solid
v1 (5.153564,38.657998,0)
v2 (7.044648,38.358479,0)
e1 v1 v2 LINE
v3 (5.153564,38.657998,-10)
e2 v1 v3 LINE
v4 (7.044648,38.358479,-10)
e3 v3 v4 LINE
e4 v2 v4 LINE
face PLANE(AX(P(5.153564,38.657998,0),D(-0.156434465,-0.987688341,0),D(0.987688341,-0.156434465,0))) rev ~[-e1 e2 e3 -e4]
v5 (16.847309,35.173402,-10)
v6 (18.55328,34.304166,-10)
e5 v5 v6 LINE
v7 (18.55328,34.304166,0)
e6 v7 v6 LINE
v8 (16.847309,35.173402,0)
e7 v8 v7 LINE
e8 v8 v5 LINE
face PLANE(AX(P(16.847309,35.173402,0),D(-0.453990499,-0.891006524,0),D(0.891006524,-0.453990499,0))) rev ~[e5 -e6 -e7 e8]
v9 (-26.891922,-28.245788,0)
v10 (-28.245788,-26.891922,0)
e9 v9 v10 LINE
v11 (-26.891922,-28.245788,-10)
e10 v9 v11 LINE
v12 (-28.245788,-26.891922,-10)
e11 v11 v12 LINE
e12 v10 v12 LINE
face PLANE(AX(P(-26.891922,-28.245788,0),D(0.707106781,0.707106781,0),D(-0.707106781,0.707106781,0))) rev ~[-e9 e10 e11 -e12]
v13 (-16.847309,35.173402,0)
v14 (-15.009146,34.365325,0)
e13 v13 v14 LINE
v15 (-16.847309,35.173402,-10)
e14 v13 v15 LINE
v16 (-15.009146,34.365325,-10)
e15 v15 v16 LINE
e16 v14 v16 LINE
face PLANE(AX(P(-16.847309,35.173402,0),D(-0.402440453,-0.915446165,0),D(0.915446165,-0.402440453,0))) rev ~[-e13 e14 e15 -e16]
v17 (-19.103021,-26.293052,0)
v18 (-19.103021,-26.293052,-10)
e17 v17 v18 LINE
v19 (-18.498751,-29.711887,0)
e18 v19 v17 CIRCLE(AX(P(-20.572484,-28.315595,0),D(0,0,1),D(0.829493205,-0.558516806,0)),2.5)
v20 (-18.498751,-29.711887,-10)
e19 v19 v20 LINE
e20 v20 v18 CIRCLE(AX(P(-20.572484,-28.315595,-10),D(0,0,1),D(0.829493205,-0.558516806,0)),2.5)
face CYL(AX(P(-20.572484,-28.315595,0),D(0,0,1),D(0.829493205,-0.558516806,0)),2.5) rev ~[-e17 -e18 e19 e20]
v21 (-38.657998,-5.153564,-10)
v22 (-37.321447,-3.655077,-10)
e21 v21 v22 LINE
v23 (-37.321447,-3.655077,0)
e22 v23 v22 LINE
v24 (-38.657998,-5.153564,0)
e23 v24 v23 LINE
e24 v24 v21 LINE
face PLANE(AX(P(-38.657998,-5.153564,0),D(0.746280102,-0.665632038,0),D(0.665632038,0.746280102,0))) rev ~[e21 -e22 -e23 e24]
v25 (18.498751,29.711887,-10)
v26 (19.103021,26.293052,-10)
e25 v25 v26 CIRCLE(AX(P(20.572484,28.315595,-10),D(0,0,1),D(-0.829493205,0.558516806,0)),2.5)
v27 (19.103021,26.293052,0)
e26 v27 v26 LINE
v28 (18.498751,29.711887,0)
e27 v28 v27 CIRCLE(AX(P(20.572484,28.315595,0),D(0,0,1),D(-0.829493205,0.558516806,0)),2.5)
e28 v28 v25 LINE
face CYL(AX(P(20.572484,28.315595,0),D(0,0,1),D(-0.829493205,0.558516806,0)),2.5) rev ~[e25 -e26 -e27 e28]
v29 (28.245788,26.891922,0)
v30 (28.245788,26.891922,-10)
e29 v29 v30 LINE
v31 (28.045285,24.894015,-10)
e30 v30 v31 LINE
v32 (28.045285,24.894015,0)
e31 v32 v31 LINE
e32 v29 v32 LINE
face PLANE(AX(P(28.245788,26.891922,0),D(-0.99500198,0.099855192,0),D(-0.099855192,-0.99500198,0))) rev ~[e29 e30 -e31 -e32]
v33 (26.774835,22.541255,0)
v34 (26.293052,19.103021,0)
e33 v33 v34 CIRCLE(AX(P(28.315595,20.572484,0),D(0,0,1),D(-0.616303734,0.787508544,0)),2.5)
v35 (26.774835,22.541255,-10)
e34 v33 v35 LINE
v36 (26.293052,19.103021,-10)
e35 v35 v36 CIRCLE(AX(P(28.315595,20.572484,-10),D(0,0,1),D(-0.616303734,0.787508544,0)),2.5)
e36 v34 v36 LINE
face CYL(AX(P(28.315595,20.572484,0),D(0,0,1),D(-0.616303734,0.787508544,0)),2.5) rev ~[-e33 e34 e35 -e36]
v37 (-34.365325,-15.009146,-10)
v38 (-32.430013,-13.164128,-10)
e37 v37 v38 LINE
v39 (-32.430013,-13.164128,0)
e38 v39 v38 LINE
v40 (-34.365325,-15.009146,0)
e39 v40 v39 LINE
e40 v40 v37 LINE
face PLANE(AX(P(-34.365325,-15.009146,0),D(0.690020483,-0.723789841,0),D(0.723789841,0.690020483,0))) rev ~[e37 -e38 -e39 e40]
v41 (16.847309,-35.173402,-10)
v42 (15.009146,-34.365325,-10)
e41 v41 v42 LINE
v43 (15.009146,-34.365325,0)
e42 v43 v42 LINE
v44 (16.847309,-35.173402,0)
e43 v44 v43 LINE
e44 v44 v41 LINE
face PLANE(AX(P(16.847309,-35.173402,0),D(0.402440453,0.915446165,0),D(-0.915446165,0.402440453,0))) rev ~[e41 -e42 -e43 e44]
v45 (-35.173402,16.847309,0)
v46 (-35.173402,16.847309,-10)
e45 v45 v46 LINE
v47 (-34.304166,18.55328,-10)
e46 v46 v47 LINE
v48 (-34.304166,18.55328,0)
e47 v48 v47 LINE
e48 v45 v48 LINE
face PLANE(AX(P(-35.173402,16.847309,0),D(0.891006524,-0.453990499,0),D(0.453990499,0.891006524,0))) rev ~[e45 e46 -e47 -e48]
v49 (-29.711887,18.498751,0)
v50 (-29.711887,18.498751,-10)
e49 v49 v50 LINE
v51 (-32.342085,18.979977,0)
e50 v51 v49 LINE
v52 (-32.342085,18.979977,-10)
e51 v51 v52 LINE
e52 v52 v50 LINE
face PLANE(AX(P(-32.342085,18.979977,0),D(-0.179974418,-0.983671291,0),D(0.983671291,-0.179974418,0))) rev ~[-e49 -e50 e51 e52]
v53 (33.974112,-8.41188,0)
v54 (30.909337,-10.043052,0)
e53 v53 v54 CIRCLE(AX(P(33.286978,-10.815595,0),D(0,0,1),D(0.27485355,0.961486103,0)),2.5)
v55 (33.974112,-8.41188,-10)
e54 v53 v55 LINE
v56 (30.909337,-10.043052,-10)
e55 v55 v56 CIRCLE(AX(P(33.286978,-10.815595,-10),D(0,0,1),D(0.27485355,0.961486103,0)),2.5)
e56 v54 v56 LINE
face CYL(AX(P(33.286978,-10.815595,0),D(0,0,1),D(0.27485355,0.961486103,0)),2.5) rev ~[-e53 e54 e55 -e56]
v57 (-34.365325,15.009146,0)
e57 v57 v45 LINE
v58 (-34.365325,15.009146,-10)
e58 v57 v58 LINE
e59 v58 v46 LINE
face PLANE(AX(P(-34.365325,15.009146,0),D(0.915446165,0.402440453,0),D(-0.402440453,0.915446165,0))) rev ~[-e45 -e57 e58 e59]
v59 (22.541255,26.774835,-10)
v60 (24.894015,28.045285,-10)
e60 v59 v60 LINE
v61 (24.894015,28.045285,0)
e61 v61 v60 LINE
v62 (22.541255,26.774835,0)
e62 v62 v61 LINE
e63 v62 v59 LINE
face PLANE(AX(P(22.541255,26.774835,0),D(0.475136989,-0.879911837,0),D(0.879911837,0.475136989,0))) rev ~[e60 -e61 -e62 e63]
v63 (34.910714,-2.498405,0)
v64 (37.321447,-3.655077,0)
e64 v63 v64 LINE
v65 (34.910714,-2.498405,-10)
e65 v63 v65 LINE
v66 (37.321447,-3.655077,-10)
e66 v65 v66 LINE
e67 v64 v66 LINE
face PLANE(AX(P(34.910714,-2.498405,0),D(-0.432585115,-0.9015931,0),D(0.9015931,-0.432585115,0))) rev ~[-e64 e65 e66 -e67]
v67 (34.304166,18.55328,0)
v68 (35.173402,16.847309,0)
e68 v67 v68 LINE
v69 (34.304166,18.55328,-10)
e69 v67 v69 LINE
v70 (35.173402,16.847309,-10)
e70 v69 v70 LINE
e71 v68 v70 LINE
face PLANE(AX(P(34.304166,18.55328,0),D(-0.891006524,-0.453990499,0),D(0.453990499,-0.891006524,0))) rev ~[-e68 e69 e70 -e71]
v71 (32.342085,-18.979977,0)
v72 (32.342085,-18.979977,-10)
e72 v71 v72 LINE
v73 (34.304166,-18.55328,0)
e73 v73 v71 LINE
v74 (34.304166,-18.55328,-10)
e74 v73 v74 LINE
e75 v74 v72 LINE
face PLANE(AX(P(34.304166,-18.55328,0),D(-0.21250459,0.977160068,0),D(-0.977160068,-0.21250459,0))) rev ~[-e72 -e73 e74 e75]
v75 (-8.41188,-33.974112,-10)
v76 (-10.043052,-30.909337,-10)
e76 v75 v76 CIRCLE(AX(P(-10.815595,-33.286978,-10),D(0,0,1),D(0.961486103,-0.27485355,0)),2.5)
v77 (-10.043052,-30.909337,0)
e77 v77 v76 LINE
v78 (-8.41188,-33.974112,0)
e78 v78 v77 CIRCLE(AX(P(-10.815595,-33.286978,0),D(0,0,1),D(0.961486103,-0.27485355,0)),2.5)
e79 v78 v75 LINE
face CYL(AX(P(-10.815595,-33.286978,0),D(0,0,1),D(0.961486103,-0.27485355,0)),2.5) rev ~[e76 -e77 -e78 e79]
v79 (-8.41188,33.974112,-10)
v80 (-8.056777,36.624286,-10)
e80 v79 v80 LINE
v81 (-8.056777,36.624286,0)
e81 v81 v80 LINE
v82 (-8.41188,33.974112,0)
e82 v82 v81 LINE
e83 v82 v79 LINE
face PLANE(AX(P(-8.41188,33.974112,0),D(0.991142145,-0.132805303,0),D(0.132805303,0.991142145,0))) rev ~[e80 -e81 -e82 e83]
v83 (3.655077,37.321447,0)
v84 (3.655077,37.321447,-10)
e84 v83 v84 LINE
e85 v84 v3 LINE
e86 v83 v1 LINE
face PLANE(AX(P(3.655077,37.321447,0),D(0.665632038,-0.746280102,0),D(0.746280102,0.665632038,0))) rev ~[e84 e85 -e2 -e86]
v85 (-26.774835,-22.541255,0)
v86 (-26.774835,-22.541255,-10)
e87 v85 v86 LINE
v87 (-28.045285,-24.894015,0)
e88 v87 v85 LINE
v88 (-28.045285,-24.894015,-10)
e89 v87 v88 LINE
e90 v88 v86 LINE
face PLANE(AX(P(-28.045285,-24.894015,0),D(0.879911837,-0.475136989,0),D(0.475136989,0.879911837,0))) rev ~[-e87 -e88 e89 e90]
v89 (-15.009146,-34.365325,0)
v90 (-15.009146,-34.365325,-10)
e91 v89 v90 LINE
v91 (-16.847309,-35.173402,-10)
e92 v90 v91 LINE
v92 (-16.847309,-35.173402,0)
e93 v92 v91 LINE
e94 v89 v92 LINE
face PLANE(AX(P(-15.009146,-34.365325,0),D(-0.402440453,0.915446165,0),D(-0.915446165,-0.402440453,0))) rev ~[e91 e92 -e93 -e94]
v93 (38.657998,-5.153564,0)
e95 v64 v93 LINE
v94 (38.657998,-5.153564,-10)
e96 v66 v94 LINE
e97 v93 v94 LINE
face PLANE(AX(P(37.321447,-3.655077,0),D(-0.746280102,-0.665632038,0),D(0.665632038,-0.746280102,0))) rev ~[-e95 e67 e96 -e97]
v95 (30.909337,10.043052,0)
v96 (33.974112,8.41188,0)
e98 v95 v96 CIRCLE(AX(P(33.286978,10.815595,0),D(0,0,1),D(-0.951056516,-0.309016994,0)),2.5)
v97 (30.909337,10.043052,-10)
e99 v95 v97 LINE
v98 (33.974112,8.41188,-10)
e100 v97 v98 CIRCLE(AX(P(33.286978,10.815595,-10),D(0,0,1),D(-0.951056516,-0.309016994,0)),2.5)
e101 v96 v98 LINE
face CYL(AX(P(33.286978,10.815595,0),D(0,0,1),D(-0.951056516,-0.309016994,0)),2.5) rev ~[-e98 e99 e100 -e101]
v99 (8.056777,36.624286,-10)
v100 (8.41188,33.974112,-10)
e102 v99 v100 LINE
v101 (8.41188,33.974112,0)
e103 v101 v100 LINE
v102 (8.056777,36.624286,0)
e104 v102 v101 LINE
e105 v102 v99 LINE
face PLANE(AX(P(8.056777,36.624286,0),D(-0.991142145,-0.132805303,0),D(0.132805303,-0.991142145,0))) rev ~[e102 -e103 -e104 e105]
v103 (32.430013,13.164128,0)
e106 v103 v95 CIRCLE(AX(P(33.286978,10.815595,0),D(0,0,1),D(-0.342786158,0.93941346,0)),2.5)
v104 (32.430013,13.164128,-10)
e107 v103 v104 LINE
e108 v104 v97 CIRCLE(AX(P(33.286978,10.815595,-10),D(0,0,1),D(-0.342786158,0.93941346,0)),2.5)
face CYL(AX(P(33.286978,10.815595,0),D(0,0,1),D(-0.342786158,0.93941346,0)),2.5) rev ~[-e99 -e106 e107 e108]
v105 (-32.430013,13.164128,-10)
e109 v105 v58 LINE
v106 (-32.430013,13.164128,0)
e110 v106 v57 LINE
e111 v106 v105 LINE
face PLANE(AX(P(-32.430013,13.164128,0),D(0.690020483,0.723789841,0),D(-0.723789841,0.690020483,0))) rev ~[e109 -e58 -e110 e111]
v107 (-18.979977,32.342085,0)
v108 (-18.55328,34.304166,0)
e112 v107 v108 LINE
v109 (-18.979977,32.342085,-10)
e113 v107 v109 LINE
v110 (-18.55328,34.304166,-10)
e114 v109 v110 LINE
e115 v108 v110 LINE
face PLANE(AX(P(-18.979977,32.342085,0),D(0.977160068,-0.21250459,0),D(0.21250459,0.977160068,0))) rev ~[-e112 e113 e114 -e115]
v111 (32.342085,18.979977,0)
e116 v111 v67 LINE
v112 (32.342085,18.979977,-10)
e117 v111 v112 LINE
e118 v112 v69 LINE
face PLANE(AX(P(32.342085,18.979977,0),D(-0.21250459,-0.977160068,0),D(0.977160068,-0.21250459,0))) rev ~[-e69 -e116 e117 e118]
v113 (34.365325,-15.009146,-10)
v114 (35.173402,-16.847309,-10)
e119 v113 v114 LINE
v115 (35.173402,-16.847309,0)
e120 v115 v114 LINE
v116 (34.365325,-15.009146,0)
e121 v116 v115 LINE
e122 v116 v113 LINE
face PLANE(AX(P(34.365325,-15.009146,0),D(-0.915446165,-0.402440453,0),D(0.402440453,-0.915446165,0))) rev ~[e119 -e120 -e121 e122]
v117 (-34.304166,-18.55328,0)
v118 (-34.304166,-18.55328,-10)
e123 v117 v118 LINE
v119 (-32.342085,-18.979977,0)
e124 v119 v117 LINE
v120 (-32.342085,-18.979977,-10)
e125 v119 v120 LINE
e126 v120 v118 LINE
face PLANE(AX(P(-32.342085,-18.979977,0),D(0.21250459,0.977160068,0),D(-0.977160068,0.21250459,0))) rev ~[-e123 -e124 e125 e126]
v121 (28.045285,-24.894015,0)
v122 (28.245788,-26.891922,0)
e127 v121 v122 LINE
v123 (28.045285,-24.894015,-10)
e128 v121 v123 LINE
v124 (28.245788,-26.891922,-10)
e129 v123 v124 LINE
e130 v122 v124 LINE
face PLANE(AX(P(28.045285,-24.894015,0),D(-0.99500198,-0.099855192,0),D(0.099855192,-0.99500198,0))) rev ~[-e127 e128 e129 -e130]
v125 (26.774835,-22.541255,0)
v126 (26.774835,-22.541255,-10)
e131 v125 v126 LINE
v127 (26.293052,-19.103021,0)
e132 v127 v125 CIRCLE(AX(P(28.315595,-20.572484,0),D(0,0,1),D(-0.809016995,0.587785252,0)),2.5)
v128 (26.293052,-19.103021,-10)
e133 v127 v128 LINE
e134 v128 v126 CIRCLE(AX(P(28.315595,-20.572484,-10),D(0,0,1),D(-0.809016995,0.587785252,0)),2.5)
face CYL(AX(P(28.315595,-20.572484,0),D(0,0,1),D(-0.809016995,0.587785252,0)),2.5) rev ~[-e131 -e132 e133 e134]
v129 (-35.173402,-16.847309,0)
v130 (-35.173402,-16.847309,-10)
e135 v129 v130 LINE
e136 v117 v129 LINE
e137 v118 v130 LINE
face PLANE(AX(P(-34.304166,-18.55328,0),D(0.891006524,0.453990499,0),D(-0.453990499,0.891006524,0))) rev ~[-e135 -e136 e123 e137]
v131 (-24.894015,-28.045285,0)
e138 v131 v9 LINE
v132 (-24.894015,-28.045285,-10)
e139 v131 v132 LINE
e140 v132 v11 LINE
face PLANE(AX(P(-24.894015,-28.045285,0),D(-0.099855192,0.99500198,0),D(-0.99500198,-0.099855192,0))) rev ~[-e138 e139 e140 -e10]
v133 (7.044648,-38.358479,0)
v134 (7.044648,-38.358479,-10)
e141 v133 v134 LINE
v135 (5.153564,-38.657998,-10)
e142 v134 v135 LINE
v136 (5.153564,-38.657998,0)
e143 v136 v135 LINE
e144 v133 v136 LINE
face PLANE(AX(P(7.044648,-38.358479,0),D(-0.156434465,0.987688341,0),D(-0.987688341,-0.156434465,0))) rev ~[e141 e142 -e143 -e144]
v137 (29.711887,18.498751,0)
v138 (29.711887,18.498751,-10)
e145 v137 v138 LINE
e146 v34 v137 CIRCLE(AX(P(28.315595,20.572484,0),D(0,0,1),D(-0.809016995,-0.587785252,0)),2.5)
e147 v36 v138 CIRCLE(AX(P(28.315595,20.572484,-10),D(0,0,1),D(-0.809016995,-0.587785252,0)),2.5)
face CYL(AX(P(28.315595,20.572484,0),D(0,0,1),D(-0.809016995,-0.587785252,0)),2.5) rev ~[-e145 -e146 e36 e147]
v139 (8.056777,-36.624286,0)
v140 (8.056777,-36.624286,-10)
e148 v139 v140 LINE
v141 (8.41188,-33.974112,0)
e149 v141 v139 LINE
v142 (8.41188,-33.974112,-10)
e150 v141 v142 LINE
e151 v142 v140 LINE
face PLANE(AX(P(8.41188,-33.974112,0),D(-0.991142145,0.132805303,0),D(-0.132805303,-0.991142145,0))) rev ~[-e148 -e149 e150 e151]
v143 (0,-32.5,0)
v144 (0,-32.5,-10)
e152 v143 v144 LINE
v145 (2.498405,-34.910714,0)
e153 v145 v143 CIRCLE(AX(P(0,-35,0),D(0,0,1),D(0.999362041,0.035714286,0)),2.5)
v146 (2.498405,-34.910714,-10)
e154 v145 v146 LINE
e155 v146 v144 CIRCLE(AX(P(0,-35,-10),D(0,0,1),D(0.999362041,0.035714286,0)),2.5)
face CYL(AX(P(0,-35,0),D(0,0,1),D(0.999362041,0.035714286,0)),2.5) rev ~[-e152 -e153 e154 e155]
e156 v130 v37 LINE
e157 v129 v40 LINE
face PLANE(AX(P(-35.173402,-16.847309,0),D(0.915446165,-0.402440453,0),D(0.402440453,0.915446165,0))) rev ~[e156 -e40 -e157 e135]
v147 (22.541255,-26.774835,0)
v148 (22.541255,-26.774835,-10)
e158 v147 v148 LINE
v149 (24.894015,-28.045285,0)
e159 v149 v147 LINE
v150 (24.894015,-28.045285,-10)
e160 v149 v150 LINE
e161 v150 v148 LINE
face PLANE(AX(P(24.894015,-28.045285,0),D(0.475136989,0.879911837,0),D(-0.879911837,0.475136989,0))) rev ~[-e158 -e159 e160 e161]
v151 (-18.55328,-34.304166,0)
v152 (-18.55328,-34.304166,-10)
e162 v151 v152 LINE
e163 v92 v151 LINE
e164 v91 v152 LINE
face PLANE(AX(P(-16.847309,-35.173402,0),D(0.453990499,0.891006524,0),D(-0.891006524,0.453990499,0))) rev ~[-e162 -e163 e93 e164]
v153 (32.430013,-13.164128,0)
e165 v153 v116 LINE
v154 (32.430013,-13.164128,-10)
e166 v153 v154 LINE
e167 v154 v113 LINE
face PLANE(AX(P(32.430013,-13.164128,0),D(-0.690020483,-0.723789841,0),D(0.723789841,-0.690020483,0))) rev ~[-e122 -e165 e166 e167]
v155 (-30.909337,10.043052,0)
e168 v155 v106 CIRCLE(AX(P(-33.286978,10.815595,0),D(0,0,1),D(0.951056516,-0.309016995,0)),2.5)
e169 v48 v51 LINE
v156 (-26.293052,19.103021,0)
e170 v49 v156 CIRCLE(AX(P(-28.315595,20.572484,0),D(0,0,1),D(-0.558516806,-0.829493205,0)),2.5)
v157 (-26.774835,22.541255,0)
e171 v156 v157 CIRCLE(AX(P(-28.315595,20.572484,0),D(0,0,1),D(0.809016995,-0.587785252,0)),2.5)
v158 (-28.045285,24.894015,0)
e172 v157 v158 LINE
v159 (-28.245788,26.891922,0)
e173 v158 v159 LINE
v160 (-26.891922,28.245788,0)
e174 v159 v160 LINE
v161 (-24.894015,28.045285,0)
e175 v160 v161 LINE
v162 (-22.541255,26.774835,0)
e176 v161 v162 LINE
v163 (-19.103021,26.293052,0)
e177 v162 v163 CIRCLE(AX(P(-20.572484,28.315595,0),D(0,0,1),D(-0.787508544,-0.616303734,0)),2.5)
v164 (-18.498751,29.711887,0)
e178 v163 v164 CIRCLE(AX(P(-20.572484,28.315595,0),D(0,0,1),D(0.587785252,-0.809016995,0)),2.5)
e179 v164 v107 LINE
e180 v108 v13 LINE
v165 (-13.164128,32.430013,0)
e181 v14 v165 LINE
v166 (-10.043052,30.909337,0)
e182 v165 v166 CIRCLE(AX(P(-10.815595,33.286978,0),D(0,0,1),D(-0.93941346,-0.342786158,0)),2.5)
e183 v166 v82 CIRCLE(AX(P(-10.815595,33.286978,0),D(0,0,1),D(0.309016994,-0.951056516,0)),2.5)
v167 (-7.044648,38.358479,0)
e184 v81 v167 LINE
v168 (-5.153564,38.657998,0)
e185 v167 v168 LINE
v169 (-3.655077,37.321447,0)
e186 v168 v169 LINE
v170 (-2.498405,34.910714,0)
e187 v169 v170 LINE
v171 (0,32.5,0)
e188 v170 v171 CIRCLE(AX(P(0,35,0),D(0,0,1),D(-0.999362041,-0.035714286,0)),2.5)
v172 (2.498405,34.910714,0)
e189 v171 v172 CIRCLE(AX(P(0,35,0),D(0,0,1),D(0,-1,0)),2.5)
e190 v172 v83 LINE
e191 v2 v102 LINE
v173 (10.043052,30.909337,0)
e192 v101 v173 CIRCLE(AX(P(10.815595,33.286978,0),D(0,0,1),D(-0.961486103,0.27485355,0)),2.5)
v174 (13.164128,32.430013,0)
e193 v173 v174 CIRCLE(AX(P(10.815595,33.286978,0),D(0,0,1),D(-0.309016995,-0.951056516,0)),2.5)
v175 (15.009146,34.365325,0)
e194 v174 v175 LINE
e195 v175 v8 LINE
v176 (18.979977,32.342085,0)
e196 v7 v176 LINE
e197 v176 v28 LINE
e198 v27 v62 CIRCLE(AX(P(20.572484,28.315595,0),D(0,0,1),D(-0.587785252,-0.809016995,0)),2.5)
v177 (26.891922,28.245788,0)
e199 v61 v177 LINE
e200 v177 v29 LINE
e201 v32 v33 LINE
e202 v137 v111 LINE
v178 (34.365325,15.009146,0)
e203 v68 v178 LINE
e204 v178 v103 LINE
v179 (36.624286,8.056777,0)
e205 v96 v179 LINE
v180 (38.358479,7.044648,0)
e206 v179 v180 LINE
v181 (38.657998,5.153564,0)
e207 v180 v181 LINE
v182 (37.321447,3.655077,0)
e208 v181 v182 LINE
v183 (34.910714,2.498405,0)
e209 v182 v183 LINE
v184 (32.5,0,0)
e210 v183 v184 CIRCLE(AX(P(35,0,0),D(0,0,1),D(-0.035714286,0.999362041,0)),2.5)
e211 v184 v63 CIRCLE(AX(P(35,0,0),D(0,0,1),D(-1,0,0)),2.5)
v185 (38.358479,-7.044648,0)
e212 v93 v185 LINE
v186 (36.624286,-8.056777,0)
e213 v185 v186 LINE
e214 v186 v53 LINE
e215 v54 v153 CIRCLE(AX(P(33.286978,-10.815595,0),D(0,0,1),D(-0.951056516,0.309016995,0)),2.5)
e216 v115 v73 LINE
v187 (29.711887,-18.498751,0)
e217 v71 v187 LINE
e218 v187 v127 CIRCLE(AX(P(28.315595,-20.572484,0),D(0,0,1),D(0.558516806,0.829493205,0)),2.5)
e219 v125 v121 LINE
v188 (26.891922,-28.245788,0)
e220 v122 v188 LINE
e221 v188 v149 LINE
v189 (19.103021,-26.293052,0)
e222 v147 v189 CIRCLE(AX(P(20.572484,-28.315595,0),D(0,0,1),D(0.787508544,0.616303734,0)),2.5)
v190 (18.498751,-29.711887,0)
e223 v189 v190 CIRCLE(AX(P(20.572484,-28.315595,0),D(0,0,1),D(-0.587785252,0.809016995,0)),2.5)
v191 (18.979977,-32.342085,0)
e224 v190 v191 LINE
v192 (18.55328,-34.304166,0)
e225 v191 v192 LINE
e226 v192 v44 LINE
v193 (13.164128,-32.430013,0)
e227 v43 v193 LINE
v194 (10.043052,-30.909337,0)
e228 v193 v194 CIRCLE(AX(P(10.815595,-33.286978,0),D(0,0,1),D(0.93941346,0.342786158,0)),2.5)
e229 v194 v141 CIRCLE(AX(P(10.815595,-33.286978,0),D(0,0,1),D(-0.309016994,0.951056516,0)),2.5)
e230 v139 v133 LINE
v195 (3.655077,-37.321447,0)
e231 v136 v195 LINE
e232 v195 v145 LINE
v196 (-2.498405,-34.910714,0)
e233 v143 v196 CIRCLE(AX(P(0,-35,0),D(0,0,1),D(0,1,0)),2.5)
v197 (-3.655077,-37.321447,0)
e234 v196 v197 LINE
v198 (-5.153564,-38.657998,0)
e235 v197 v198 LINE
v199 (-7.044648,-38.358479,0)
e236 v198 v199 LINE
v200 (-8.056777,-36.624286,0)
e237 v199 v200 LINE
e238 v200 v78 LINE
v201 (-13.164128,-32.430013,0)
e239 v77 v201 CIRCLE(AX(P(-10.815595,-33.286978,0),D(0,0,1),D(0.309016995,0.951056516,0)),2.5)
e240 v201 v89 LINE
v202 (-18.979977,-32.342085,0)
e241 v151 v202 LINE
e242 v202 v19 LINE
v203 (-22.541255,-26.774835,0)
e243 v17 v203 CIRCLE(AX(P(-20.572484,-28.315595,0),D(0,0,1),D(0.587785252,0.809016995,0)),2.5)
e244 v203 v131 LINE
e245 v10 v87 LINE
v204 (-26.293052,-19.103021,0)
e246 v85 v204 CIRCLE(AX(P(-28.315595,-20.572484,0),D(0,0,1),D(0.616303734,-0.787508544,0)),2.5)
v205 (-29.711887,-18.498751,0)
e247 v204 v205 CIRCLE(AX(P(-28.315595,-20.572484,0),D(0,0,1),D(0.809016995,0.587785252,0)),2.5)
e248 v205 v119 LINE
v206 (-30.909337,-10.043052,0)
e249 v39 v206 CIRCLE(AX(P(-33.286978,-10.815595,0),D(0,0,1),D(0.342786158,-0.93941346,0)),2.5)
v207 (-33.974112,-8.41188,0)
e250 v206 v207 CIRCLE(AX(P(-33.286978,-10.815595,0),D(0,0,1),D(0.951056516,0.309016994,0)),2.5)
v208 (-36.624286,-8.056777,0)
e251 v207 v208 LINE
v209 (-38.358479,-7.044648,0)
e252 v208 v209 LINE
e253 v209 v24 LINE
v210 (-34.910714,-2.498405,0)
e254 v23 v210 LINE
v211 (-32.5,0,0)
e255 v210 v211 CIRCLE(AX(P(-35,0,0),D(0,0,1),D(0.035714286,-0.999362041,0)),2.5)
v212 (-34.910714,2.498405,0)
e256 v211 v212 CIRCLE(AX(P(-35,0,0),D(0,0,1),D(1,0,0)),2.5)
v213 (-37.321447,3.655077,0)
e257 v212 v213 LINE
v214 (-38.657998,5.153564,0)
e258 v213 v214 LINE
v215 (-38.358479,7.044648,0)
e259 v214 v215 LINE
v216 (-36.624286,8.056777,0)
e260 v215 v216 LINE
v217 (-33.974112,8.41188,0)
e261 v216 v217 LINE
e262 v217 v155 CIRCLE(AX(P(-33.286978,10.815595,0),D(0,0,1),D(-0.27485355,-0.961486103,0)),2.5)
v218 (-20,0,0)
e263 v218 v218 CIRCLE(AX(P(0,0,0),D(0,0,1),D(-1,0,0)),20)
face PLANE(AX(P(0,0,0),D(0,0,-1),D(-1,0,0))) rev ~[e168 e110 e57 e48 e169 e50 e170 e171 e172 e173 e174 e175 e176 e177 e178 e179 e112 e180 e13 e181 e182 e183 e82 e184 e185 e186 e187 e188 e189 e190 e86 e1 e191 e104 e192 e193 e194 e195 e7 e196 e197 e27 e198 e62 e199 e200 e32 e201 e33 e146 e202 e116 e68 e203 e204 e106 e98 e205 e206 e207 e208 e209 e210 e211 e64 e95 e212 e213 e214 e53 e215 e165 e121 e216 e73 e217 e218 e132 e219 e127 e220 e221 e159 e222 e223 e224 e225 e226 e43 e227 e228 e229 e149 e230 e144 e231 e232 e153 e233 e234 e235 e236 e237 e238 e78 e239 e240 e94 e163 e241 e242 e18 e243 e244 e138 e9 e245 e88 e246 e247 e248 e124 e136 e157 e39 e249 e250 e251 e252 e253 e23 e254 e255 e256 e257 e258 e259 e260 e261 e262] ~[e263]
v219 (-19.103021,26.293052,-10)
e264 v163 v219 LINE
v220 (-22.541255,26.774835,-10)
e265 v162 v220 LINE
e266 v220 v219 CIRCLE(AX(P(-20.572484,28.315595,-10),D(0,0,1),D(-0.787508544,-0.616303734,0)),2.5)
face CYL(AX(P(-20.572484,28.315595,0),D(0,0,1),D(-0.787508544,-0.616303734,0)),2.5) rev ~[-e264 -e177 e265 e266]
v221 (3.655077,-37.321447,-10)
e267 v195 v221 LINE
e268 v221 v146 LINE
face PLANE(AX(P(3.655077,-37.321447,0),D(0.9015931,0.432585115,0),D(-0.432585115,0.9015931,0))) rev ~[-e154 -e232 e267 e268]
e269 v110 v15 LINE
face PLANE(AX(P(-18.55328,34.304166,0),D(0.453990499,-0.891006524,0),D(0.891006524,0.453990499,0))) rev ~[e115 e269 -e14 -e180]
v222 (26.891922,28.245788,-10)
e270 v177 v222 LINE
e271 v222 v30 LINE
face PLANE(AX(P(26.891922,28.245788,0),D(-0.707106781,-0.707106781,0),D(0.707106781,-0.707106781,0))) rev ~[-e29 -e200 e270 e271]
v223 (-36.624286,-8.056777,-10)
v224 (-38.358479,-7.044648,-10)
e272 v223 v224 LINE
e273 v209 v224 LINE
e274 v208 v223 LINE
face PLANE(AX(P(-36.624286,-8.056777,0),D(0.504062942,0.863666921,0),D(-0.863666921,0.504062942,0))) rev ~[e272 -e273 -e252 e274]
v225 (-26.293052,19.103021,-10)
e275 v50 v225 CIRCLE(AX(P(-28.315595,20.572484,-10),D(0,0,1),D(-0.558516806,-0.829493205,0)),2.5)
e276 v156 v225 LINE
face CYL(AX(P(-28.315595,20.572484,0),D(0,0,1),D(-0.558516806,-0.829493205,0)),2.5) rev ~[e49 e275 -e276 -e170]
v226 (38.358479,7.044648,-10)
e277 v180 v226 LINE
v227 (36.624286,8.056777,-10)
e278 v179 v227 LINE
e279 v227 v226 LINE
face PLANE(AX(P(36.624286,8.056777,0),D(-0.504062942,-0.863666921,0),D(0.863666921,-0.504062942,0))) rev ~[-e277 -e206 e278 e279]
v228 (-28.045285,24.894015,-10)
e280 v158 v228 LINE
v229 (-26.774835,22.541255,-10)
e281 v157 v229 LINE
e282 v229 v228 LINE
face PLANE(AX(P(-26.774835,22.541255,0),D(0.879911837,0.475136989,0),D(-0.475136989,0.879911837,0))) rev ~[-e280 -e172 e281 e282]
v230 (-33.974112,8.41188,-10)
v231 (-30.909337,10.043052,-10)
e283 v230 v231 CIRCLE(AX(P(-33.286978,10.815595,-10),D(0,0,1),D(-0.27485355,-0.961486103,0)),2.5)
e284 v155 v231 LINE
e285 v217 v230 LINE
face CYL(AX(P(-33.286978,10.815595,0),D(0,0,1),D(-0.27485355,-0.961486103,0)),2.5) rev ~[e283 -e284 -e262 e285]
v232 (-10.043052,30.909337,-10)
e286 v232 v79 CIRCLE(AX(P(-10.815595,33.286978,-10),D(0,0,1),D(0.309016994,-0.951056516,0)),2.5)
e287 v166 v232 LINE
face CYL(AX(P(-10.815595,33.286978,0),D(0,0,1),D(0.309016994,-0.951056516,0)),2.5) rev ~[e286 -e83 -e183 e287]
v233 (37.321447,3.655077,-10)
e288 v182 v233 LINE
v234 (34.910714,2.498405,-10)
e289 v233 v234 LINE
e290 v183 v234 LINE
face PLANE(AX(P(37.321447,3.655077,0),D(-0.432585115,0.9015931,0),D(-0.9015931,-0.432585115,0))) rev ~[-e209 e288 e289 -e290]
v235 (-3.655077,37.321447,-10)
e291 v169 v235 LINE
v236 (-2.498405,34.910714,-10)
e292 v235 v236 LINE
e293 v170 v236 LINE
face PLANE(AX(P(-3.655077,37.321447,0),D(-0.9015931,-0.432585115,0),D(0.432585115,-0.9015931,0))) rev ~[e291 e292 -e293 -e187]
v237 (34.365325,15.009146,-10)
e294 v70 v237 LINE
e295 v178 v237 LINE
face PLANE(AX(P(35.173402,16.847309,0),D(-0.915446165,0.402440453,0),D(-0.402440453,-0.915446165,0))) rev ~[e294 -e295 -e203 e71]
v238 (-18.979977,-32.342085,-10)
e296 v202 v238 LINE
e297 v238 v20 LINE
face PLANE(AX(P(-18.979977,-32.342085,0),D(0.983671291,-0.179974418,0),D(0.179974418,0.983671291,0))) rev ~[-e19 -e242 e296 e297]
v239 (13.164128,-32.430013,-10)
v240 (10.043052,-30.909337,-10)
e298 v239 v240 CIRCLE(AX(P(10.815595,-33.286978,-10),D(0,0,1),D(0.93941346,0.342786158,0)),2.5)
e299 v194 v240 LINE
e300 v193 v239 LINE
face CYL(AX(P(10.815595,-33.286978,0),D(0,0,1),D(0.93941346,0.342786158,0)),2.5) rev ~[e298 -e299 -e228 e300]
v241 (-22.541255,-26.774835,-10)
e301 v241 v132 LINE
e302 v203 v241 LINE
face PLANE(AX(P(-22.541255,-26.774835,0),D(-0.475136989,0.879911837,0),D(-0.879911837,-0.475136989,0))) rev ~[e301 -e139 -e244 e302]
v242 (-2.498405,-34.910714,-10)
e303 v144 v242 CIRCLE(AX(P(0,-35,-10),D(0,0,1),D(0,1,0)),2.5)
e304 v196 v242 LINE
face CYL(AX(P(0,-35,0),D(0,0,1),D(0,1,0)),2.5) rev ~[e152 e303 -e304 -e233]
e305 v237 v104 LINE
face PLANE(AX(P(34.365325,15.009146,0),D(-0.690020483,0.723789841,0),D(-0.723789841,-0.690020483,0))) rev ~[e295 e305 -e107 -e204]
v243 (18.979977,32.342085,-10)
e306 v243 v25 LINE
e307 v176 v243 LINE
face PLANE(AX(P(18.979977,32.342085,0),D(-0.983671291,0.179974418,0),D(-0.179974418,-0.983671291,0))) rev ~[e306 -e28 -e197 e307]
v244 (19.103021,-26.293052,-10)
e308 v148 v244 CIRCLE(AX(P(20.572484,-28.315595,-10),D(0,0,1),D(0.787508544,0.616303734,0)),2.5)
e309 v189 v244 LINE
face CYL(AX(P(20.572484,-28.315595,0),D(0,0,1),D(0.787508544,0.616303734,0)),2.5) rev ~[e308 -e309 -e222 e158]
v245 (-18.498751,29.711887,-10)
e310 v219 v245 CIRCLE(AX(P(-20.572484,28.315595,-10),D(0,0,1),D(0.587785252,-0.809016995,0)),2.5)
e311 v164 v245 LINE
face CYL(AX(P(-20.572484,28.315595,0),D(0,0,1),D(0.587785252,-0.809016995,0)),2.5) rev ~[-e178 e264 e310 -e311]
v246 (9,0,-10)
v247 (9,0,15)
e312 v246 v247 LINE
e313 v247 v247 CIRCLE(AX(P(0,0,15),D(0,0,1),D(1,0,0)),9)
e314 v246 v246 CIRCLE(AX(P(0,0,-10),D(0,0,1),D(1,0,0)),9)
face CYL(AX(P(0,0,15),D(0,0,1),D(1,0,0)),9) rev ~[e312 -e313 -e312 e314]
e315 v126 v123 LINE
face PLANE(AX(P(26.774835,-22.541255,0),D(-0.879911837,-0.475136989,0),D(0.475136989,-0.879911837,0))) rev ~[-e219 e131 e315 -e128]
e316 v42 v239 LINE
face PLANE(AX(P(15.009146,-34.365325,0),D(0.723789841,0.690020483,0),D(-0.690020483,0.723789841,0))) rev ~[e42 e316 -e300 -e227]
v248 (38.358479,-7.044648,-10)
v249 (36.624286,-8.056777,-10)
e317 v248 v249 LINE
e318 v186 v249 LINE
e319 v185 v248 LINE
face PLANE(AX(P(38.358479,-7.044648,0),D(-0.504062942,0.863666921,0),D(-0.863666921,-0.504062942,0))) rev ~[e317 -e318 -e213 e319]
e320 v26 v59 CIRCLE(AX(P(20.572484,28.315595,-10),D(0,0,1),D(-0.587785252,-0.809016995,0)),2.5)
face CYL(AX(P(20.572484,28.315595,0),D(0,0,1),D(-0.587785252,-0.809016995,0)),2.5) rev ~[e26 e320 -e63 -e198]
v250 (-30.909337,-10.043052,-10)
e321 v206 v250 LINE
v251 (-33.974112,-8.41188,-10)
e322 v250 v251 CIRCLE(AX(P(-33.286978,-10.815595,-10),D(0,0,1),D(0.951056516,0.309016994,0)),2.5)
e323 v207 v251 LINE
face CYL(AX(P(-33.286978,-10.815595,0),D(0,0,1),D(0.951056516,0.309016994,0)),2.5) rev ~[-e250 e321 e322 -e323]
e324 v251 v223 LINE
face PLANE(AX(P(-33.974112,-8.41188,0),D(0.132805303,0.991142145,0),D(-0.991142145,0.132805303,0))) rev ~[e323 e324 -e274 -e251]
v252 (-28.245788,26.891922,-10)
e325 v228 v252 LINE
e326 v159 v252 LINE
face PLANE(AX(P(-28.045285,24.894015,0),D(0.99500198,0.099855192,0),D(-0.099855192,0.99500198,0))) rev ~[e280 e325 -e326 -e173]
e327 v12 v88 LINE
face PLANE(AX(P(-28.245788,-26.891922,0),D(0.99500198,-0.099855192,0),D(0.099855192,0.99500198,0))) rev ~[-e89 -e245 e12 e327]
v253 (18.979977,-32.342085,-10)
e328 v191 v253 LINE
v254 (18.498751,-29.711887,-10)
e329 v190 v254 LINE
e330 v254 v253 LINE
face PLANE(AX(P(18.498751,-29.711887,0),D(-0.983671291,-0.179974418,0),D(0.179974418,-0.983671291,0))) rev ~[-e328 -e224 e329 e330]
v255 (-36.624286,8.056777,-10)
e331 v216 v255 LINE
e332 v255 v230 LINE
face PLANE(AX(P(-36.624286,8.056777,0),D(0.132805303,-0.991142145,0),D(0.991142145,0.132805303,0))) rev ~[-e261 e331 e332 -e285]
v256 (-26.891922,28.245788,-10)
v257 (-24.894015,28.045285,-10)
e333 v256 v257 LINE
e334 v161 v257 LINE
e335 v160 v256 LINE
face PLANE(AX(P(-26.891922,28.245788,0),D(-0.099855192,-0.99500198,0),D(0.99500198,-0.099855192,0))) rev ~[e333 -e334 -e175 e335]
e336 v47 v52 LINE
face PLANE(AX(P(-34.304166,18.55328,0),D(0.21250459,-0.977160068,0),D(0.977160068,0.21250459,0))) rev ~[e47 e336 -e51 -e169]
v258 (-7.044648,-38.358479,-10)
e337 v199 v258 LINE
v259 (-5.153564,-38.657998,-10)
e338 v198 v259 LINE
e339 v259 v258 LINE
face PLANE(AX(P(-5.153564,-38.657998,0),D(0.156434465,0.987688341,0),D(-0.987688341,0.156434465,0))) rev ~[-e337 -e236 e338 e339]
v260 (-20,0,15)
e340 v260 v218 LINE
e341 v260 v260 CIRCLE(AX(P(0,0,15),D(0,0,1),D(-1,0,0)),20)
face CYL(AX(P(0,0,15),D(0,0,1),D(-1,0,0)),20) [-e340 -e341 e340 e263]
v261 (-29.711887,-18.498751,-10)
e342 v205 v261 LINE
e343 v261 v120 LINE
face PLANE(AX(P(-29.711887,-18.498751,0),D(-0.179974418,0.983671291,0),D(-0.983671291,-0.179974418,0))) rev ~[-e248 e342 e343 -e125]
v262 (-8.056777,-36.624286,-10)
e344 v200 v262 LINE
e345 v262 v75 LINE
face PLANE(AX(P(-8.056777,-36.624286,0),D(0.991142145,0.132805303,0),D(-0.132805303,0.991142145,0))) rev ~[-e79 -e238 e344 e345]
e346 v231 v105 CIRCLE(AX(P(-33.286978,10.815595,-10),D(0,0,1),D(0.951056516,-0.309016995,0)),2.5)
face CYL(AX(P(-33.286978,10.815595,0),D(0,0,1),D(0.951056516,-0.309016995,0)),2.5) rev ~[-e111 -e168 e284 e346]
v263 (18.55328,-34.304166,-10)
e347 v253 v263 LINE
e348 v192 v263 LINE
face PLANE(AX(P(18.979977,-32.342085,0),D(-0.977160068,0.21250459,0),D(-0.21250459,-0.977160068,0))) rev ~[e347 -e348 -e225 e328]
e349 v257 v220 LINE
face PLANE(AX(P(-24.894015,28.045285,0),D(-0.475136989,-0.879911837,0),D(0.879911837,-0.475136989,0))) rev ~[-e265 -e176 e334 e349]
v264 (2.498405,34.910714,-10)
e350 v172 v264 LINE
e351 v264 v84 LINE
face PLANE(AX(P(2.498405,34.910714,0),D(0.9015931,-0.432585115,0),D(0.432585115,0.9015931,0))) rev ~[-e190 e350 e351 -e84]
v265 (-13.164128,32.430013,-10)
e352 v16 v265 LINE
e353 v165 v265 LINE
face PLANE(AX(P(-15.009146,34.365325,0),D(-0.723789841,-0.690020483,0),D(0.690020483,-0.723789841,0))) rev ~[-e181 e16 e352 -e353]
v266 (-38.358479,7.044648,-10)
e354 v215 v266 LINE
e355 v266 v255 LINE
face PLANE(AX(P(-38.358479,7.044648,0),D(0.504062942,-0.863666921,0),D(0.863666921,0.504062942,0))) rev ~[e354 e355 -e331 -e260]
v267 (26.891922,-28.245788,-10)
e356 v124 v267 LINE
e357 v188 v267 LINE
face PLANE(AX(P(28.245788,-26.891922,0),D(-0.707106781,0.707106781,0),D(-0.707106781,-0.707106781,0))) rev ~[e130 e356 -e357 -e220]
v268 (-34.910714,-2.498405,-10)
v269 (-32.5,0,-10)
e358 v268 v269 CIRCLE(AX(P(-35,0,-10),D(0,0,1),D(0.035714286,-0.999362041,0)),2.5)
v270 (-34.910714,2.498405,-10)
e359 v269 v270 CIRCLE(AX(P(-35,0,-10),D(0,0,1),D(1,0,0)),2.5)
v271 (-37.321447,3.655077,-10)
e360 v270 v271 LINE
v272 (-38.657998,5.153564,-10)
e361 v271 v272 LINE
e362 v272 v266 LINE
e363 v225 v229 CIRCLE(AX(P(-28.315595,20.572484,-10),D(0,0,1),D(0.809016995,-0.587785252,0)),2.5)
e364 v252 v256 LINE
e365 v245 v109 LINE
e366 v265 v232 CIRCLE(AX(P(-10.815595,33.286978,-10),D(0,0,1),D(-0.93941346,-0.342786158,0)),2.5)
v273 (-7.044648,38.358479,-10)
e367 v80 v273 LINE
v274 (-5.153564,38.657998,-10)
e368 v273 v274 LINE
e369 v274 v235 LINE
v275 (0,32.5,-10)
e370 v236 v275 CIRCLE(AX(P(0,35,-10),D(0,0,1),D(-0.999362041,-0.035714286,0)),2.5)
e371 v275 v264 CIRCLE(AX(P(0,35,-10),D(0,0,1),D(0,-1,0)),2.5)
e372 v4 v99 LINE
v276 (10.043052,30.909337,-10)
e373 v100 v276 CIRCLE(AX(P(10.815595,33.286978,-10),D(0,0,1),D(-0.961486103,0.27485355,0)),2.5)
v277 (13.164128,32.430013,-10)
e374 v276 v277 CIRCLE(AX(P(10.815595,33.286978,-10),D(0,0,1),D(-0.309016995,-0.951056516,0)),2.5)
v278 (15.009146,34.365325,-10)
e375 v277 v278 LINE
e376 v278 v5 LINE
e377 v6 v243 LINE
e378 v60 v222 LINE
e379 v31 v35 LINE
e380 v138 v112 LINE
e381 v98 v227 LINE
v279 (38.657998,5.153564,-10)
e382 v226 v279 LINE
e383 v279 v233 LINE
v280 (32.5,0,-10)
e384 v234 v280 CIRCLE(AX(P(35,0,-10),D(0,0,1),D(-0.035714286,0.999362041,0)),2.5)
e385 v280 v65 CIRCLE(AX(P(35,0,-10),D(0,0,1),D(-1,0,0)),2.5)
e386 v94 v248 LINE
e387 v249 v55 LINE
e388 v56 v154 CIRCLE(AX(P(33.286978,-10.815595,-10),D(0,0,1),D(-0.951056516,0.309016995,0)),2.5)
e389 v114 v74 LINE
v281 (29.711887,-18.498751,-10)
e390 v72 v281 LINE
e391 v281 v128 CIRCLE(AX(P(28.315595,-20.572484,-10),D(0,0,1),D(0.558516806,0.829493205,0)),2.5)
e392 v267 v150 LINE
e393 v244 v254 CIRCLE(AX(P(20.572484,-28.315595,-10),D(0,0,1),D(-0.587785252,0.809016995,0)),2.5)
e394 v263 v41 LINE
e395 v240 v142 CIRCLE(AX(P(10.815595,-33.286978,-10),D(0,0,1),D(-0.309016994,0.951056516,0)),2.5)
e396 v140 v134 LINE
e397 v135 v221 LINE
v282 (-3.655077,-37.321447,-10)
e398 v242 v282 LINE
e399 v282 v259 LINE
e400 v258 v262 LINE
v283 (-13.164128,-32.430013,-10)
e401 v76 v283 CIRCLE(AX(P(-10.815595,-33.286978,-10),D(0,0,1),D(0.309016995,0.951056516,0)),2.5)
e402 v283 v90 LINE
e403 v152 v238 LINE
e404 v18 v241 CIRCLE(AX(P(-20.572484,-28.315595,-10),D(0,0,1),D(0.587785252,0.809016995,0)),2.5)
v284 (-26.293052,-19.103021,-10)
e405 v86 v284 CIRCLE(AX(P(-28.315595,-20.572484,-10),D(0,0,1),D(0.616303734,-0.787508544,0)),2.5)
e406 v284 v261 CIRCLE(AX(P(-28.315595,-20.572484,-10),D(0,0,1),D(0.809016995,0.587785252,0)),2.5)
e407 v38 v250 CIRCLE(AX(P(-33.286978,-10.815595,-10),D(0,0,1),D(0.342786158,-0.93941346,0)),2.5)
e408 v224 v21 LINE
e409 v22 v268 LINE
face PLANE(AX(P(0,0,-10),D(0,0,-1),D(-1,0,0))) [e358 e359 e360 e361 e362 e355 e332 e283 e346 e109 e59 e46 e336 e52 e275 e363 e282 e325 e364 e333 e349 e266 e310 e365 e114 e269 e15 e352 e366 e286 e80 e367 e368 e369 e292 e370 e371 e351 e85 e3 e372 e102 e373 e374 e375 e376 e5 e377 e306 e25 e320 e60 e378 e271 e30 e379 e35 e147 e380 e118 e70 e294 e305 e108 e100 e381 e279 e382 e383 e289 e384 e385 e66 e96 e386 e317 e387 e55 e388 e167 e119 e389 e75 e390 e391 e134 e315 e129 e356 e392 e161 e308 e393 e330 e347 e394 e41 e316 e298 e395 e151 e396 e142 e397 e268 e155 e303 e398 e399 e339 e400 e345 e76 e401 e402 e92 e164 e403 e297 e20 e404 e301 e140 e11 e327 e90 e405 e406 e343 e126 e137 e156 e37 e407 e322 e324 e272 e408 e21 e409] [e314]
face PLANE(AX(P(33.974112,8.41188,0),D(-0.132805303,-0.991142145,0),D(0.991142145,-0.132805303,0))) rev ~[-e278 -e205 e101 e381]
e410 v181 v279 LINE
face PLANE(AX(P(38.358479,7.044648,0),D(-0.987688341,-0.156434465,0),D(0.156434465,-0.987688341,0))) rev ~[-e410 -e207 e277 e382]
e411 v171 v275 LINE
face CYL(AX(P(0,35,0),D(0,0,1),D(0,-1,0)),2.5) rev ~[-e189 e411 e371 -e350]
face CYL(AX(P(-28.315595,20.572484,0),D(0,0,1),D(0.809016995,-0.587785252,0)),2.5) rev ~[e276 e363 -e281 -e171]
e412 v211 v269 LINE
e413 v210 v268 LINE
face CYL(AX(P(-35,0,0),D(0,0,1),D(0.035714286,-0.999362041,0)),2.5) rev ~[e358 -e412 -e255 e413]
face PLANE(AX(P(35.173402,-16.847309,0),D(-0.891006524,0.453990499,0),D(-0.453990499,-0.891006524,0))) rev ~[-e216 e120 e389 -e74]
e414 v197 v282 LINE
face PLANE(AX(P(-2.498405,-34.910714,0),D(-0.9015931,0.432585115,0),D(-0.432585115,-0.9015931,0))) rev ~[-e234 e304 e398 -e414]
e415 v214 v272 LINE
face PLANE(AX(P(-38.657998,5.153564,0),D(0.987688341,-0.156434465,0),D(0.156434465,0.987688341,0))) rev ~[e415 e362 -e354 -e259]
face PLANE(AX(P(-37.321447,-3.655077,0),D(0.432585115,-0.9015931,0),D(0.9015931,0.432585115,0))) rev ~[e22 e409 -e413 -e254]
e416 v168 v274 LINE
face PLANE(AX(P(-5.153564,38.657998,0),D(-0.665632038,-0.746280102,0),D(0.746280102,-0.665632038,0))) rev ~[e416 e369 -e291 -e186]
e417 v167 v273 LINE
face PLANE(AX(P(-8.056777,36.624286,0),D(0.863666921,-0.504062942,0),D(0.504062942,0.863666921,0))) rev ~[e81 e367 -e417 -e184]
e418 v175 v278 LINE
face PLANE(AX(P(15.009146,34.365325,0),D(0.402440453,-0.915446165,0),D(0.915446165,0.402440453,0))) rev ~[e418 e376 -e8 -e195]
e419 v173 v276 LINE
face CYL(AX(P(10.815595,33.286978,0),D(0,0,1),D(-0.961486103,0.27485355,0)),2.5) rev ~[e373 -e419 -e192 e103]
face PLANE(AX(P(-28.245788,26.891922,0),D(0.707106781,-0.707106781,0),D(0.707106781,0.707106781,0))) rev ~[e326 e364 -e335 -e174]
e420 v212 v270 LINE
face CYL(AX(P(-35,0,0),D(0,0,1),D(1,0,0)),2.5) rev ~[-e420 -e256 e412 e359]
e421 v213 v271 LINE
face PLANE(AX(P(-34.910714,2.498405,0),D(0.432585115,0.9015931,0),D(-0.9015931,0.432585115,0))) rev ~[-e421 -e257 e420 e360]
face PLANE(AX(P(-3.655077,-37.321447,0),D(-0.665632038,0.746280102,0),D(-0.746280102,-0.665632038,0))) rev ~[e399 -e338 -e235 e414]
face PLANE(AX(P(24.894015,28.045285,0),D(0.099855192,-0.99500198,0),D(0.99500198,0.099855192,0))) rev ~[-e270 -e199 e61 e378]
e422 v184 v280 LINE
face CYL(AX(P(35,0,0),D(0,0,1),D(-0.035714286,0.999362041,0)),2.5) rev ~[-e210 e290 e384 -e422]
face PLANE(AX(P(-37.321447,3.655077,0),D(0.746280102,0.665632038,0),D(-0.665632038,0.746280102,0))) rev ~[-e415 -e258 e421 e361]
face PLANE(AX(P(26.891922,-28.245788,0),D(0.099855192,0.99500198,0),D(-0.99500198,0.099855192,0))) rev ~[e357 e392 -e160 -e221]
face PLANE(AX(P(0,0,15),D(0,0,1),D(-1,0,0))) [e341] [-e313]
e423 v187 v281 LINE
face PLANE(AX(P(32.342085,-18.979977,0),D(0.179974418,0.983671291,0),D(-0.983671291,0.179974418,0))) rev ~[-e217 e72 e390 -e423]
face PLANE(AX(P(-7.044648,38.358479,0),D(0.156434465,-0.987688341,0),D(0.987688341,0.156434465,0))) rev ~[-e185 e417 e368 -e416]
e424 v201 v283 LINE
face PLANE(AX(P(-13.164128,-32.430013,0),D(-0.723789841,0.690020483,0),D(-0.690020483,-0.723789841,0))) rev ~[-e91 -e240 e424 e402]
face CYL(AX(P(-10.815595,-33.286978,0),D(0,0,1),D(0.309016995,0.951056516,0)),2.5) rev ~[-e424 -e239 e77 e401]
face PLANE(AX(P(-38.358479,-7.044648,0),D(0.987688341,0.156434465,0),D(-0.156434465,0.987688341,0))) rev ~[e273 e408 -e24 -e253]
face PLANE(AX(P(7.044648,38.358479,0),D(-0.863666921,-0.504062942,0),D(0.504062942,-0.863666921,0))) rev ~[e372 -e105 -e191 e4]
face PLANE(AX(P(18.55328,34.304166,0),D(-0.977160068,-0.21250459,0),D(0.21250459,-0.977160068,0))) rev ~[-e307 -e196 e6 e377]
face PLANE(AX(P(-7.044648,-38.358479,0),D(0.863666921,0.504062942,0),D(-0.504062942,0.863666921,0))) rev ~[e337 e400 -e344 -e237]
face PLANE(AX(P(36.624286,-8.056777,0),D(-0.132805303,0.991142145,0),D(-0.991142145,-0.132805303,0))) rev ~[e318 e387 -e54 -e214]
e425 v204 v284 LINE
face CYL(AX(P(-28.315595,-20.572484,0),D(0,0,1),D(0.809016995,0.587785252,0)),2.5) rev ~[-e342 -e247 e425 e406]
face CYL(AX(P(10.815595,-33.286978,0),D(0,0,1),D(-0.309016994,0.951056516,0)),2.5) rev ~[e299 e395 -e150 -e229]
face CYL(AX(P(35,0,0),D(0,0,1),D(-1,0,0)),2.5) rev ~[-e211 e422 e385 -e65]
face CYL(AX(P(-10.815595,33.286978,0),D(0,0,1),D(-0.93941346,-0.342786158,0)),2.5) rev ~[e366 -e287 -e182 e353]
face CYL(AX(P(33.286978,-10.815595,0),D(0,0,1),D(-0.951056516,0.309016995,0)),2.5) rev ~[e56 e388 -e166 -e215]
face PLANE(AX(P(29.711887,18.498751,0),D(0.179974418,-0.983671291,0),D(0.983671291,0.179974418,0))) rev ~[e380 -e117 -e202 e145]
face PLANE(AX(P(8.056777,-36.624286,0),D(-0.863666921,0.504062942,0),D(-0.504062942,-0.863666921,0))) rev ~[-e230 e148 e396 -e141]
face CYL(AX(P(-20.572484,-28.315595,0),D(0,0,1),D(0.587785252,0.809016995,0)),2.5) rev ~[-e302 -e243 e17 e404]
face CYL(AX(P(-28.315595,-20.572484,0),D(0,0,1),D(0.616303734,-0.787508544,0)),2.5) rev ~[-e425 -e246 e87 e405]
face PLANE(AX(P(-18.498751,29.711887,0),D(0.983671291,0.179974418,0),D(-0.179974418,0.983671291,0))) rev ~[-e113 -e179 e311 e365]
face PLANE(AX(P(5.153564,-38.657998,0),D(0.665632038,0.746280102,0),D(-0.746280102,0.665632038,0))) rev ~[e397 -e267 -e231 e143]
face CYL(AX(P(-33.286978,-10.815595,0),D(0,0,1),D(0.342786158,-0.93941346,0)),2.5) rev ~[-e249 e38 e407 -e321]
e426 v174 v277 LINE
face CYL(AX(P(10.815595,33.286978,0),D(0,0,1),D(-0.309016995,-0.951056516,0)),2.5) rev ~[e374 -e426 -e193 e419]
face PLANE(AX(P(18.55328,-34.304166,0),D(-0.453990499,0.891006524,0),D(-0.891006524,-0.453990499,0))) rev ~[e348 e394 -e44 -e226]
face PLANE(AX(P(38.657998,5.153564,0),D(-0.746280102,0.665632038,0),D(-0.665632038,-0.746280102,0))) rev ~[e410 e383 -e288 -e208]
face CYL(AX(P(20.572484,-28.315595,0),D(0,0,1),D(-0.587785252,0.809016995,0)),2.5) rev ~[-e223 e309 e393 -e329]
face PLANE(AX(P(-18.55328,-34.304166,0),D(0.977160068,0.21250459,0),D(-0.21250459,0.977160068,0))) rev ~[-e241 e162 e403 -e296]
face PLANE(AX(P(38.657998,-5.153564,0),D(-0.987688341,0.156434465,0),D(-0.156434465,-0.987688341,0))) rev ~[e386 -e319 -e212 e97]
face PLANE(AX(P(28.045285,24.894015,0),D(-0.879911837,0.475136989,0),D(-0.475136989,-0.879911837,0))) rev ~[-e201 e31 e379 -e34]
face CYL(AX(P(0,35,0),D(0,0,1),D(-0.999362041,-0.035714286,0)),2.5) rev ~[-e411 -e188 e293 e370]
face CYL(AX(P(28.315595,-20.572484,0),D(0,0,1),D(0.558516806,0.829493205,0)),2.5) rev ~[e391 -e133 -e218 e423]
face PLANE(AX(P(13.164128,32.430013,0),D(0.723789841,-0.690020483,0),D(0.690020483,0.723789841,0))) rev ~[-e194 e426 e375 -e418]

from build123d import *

# Parameters (mm, degrees)
SKETCH_4_R      = 9
EXTRUDE_3_DEPTH = 10
EXTRUDE_START   = 15
SKETCH_6_R      = 20
SKETCH_6_R_2    = 9
EXTRUDE_4_DEPTH = 15


with BuildPart() as part:
    # 草圖4 → 填料-伸長3 (new body)
    with BuildSketch(Plane.XY):
        with BuildLine():
            Line((2.498405104, 34.910714286), (3.655076706, 37.321447108))
            Line((3.655076706, 37.321447108), (5.153563847, 38.657997616))
            Line((5.153563847, 38.657997616), (7.044647753, 38.35847935))
            Line((7.044647753, 38.35847935), (8.056776892, 36.624286288))
            Line((8.056776892, 36.624286288), (8.411879546, 33.974111946))
            ThreePointArc((8.411879546, 33.974111946), (8.608704453, 32.11239943), (10.043052317, 30.90933678))
            ThreePointArc((10.043052317, 30.90933678), (11.910606599, 31.039546388), (13.164128454, 32.430012674))
            Line((13.164128454, 32.430012674), (15.00914593, 34.365324652))
            Line((15.00914593, 34.365324652), (16.84730871, 35.173401729))
            Line((16.84730871, 35.173401729), (18.553280148, 34.304165866))
            Line((18.553280148, 34.304165866), (18.979977034, 32.342085149))
            Line((18.979977034, 32.342085149), (18.498750817, 29.711886817))
            ThreePointArc((18.498750817, 29.711886817), (18.110641621, 27.880470756), (19.1030207, 26.293052317))
            ThreePointArc((19.1030207, 26.293052317), (20.91940735, 25.839783003), (22.541255192, 26.774835469))
            Line((22.541255192, 26.774835469), (24.894015376, 28.045284782))
            Line((24.894015376, 28.045284782), (26.891921615, 28.245788214))
            Line((26.891921615, 28.245788214), (28.245788214, 26.891921615))
            Line((28.245788214, 26.891921615), (28.045284782, 24.894015376))
            Line((28.045284782, 24.894015376), (26.774835469, 22.541255192))
            ThreePointArc((26.774835469, 22.541255192), (25.839783003, 20.91940735), (26.293052317, 19.1030207))
            ThreePointArc((26.293052317, 19.1030207), (27.880470756, 18.110641621), (29.711886817, 18.498750817))
            Line((29.711886817, 18.498750817), (32.342085149, 18.979977034))
            Line((32.342085149, 18.979977034), (34.304165866, 18.553280148))
            Line((34.304165866, 18.553280148), (35.173401729, 16.84730871))
            Line((35.173401729, 16.84730871), (34.365324652, 15.00914593))
            Line((34.365324652, 15.00914593), (32.430012674, 13.164128454))
            ThreePointArc((32.430012674, 13.164128454), (31.039546388, 11.910606599), (30.90933678, 10.043052317))
            ThreePointArc((30.90933678, 10.043052317), (32.11239943, 8.608704453), (33.974111946, 8.411879546))
            Line((33.974111946, 8.411879546), (36.624286288, 8.056776892))
            Line((36.624286288, 8.056776892), (38.35847935, 7.044647753))
            Line((38.35847935, 7.044647753), (38.657997616, 5.153563847))
            Line((38.657997616, 5.153563847), (37.321447108, 3.655076706))
            Line((37.321447108, 3.655076706), (34.910714286, 2.498405104))
            ThreePointArc((34.910714286, 2.498405104), (33.200942707, 1.735912687), (32.5, 0))
            ThreePointArc((32.5, 0), (33.200942707, -1.735912687), (34.910714286, -2.498405104))
            Line((34.910714286, -2.498405104), (37.321447108, -3.655076706))
            Line((37.321447108, -3.655076706), (38.657997616, -5.153563847))
            Line((38.657997616, -5.153563847), (38.35847935, -7.044647753))
            Line((38.35847935, -7.044647753), (36.624286288, -8.056776892))
            Line((36.624286288, -8.056776892), (33.974111946, -8.411879546))
            ThreePointArc((33.974111946, -8.411879546), (32.11239943, -8.608704453), (30.90933678, -10.043052317))
            ThreePointArc((30.90933678, -10.043052317), (31.039546388, -11.910606599), (32.430012674, -13.164128454))
            Line((32.430012674, -13.164128454), (34.365324652, -15.00914593))
            Line((34.365324652, -15.00914593), (35.173401729, -16.84730871))
            Line((35.173401729, -16.84730871), (34.304165866, -18.553280148))
            Line((34.304165866, -18.553280148), (32.342085149, -18.979977034))
            Line((32.342085149, -18.979977034), (29.711886817, -18.498750817))
            ThreePointArc((29.711886817, -18.498750817), (27.880470756, -18.110641621), (26.293052317, -19.1030207))
            ThreePointArc((26.293052317, -19.1030207), (25.839783003, -20.91940735), (26.774835469, -22.541255192))
            Line((26.774835469, -22.541255192), (28.045284782, -24.894015376))
            Line((28.045284782, -24.894015376), (28.245788214, -26.891921615))
            Line((28.245788214, -26.891921615), (26.891921615, -28.245788214))
            Line((26.891921615, -28.245788214), (24.894015376, -28.045284782))
            Line((24.894015376, -28.045284782), (22.541255192, -26.774835469))
            ThreePointArc((22.541255192, -26.774835469), (20.91940735, -25.839783003), (19.1030207, -26.293052317))
            ThreePointArc((19.1030207, -26.293052317), (18.110641621, -27.880470756), (18.498750817, -29.711886817))
            Line((18.498750817, -29.711886817), (18.979977034, -32.342085149))
            Line((18.979977034, -32.342085149), (18.553280148, -34.304165866))
            Line((18.553280148, -34.304165866), (16.84730871, -35.173401729))
            Line((16.84730871, -35.173401729), (15.00914593, -34.365324652))
            Line((15.00914593, -34.365324652), (13.164128454, -32.430012674))
            ThreePointArc((13.164128454, -32.430012674), (11.910606599, -31.039546388), (10.043052317, -30.90933678))
            ThreePointArc((10.043052317, -30.90933678), (8.608704453, -32.11239943), (8.411879546, -33.974111946))
            Line((8.411879546, -33.974111946), (8.056776892, -36.624286288))
            Line((8.056776892, -36.624286288), (7.044647753, -38.35847935))
            Line((7.044647753, -38.35847935), (5.153563847, -38.657997616))
            Line((5.153563847, -38.657997616), (3.655076706, -37.321447108))
            Line((3.655076706, -37.321447108), (2.498405104, -34.910714286))
            ThreePointArc((2.498405104, -34.910714286), (1.735912687, -33.200942707), (0, -32.5))
            ThreePointArc((0, -32.5), (-1.735912687, -33.200942707), (-2.498405104, -34.910714286))
            Line((-2.498405104, -34.910714286), (-3.655076706, -37.321447108))
            Line((-3.655076706, -37.321447108), (-5.153563847, -38.657997616))
            Line((-5.153563847, -38.657997616), (-7.044647753, -38.35847935))
            Line((-7.044647753, -38.35847935), (-8.056776892, -36.624286288))
            Line((-8.056776892, -36.624286288), (-8.411879546, -33.974111946))
            ThreePointArc((-8.411879546, -33.974111946), (-8.608704453, -32.11239943), (-10.043052317, -30.90933678))
            ThreePointArc((-10.043052317, -30.90933678), (-11.910606599, -31.039546388), (-13.164128454, -32.430012674))
            Line((-13.164128454, -32.430012674), (-15.00914593, -34.365324652))
            Line((-15.00914593, -34.365324652), (-16.84730871, -35.173401729))
            Line((-16.84730871, -35.173401729), (-18.553280148, -34.304165866))
            Line((-18.553280148, -34.304165866), (-18.979977034, -32.342085149))
            Line((-18.979977034, -32.342085149), (-18.498750817, -29.711886817))
            ThreePointArc((-18.498750817, -29.711886817), (-18.110641621, -27.880470756), (-19.1030207, -26.293052317))
            ThreePointArc((-19.1030207, -26.293052317), (-20.91940735, -25.839783003), (-22.541255192, -26.774835469))
            Line((-22.541255192, -26.774835469), (-24.894015376, -28.045284782))
            Line((-24.894015376, -28.045284782), (-26.891921615, -28.245788214))
            Line((-26.891921615, -28.245788214), (-28.245788214, -26.891921615))
            Line((-28.245788214, -26.891921615), (-28.045284782, -24.894015376))
            Line((-28.045284782, -24.894015376), (-26.774835469, -22.541255192))
            ThreePointArc((-26.774835469, -22.541255192), (-25.839783003, -20.91940735), (-26.293052317, -19.1030207))
            ThreePointArc((-26.293052317, -19.1030207), (-27.880470756, -18.110641621), (-29.711886817, -18.498750817))
            Line((-29.711886817, -18.498750817), (-32.342085149, -18.979977034))
            Line((-32.342085149, -18.979977034), (-34.304165866, -18.553280148))
            Line((-34.304165866, -18.553280148), (-35.173401729, -16.84730871))
            Line((-35.173401729, -16.84730871), (-34.365324652, -15.00914593))
            Line((-34.365324652, -15.00914593), (-32.430012674, -13.164128454))
            ThreePointArc((-32.430012674, -13.164128454), (-31.039546388, -11.910606599), (-30.90933678, -10.043052317))
            ThreePointArc((-30.90933678, -10.043052317), (-32.11239943, -8.608704453), (-33.974111946, -8.411879546))
            Line((-33.974111946, -8.411879546), (-36.624286288, -8.056776892))
            Line((-36.624286288, -8.056776892), (-38.35847935, -7.044647753))
            Line((-38.35847935, -7.044647753), (-38.657997616, -5.153563847))
            Line((-38.657997616, -5.153563847), (-37.321447108, -3.655076706))
            Line((-37.321447108, -3.655076706), (-34.910714286, -2.498405104))
            ThreePointArc((-34.910714286, -2.498405104), (-33.200942707, -1.735912687), (-32.5, 0))
            ThreePointArc((-32.5, 0), (-33.200942707, 1.735912687), (-34.910714286, 2.498405104))
            Line((-34.910714286, 2.498405104), (-37.321447108, 3.655076706))
            Line((-37.321447108, 3.655076706), (-38.657997616, 5.153563847))
            Line((-38.657997616, 5.153563847), (-38.35847935, 7.044647753))
            Line((-38.35847935, 7.044647753), (-36.624286288, 8.056776892))
            Line((-36.624286288, 8.056776892), (-33.974111946, 8.411879546))
            ThreePointArc((-33.974111946, 8.411879546), (-32.11239943, 8.608704453), (-30.90933678, 10.043052317))
            ThreePointArc((-30.90933678, 10.043052317), (-31.039546388, 11.910606599), (-32.430012674, 13.164128454))
            Line((-32.430012674, 13.164128454), (-34.365324652, 15.00914593))
            Line((-34.365324652, 15.00914593), (-35.173401729, 16.84730871))
            Line((-35.173401729, 16.84730871), (-34.304165866, 18.553280148))
            Line((-34.304165866, 18.553280148), (-32.342085149, 18.979977034))
            Line((-32.342085149, 18.979977034), (-29.711886817, 18.498750817))
            ThreePointArc((-29.711886817, 18.498750817), (-27.880470756, 18.110641621), (-26.293052317, 19.1030207))
            ThreePointArc((-26.293052317, 19.1030207), (-25.839783003, 20.91940735), (-26.774835469, 22.541255192))
            Line((-26.774835469, 22.541255192), (-28.045284782, 24.894015376))
            Line((-28.045284782, 24.894015376), (-28.245788214, 26.891921615))
            Line((-28.245788214, 26.891921615), (-26.891921615, 28.245788214))
            Line((-26.891921615, 28.245788214), (-24.894015376, 28.045284782))
            Line((-24.894015376, 28.045284782), (-22.541255192, 26.774835469))
            ThreePointArc((-22.541255192, 26.774835469), (-20.91940735, 25.839783003), (-19.1030207, 26.293052317))
            ThreePointArc((-19.1030207, 26.293052317), (-18.110641621, 27.880470756), (-18.498750817, 29.711886817))
            Line((-18.498750817, 29.711886817), (-18.979977034, 32.342085149))
            Line((-18.979977034, 32.342085149), (-18.553280148, 34.304165866))
            Line((-18.553280148, 34.304165866), (-16.84730871, 35.173401729))
            Line((-16.84730871, 35.173401729), (-15.00914593, 34.365324652))
            Line((-15.00914593, 34.365324652), (-13.164128454, 32.430012674))
            ThreePointArc((-13.164128454, 32.430012674), (-11.910606599, 31.039546388), (-10.043052317, 30.90933678))
            ThreePointArc((-10.043052317, 30.90933678), (-8.608704453, 32.11239943), (-8.411879546, 33.974111946))
            Line((-8.411879546, 33.974111946), (-8.056776892, 36.624286288))
            Line((-8.056776892, 36.624286288), (-7.044647753, 38.35847935))
            Line((-7.044647753, 38.35847935), (-5.153563847, 38.657997616))
            Line((-5.153563847, 38.657997616), (-3.655076706, 37.321447108))
            Line((-3.655076706, 37.321447108), (-2.498405104, 34.910714286))
            ThreePointArc((-2.498405104, 34.910714286), (-1.735912687, 33.200942707), (0, 32.5))
            ThreePointArc((0, 32.5), (1.735912687, 33.200942707), (2.498405104, 34.910714286))
        make_face()
        Circle(SKETCH_4_R, mode=Mode.SUBTRACT)
    extrude(amount=-EXTRUDE_3_DEPTH)

    # 草圖6 → 填料-伸長4 (add)
    with BuildSketch(Plane.XY.offset(EXTRUDE_START)):
        with Locations(Location((0, 0, 0), (0, 0, 180))):
            Circle(SKETCH_6_R)
        Circle(SKETCH_6_R_2, mode=Mode.SUBTRACT)
    extrude(amount=-EXTRUDE_4_DEPTH)


solid = part.part
